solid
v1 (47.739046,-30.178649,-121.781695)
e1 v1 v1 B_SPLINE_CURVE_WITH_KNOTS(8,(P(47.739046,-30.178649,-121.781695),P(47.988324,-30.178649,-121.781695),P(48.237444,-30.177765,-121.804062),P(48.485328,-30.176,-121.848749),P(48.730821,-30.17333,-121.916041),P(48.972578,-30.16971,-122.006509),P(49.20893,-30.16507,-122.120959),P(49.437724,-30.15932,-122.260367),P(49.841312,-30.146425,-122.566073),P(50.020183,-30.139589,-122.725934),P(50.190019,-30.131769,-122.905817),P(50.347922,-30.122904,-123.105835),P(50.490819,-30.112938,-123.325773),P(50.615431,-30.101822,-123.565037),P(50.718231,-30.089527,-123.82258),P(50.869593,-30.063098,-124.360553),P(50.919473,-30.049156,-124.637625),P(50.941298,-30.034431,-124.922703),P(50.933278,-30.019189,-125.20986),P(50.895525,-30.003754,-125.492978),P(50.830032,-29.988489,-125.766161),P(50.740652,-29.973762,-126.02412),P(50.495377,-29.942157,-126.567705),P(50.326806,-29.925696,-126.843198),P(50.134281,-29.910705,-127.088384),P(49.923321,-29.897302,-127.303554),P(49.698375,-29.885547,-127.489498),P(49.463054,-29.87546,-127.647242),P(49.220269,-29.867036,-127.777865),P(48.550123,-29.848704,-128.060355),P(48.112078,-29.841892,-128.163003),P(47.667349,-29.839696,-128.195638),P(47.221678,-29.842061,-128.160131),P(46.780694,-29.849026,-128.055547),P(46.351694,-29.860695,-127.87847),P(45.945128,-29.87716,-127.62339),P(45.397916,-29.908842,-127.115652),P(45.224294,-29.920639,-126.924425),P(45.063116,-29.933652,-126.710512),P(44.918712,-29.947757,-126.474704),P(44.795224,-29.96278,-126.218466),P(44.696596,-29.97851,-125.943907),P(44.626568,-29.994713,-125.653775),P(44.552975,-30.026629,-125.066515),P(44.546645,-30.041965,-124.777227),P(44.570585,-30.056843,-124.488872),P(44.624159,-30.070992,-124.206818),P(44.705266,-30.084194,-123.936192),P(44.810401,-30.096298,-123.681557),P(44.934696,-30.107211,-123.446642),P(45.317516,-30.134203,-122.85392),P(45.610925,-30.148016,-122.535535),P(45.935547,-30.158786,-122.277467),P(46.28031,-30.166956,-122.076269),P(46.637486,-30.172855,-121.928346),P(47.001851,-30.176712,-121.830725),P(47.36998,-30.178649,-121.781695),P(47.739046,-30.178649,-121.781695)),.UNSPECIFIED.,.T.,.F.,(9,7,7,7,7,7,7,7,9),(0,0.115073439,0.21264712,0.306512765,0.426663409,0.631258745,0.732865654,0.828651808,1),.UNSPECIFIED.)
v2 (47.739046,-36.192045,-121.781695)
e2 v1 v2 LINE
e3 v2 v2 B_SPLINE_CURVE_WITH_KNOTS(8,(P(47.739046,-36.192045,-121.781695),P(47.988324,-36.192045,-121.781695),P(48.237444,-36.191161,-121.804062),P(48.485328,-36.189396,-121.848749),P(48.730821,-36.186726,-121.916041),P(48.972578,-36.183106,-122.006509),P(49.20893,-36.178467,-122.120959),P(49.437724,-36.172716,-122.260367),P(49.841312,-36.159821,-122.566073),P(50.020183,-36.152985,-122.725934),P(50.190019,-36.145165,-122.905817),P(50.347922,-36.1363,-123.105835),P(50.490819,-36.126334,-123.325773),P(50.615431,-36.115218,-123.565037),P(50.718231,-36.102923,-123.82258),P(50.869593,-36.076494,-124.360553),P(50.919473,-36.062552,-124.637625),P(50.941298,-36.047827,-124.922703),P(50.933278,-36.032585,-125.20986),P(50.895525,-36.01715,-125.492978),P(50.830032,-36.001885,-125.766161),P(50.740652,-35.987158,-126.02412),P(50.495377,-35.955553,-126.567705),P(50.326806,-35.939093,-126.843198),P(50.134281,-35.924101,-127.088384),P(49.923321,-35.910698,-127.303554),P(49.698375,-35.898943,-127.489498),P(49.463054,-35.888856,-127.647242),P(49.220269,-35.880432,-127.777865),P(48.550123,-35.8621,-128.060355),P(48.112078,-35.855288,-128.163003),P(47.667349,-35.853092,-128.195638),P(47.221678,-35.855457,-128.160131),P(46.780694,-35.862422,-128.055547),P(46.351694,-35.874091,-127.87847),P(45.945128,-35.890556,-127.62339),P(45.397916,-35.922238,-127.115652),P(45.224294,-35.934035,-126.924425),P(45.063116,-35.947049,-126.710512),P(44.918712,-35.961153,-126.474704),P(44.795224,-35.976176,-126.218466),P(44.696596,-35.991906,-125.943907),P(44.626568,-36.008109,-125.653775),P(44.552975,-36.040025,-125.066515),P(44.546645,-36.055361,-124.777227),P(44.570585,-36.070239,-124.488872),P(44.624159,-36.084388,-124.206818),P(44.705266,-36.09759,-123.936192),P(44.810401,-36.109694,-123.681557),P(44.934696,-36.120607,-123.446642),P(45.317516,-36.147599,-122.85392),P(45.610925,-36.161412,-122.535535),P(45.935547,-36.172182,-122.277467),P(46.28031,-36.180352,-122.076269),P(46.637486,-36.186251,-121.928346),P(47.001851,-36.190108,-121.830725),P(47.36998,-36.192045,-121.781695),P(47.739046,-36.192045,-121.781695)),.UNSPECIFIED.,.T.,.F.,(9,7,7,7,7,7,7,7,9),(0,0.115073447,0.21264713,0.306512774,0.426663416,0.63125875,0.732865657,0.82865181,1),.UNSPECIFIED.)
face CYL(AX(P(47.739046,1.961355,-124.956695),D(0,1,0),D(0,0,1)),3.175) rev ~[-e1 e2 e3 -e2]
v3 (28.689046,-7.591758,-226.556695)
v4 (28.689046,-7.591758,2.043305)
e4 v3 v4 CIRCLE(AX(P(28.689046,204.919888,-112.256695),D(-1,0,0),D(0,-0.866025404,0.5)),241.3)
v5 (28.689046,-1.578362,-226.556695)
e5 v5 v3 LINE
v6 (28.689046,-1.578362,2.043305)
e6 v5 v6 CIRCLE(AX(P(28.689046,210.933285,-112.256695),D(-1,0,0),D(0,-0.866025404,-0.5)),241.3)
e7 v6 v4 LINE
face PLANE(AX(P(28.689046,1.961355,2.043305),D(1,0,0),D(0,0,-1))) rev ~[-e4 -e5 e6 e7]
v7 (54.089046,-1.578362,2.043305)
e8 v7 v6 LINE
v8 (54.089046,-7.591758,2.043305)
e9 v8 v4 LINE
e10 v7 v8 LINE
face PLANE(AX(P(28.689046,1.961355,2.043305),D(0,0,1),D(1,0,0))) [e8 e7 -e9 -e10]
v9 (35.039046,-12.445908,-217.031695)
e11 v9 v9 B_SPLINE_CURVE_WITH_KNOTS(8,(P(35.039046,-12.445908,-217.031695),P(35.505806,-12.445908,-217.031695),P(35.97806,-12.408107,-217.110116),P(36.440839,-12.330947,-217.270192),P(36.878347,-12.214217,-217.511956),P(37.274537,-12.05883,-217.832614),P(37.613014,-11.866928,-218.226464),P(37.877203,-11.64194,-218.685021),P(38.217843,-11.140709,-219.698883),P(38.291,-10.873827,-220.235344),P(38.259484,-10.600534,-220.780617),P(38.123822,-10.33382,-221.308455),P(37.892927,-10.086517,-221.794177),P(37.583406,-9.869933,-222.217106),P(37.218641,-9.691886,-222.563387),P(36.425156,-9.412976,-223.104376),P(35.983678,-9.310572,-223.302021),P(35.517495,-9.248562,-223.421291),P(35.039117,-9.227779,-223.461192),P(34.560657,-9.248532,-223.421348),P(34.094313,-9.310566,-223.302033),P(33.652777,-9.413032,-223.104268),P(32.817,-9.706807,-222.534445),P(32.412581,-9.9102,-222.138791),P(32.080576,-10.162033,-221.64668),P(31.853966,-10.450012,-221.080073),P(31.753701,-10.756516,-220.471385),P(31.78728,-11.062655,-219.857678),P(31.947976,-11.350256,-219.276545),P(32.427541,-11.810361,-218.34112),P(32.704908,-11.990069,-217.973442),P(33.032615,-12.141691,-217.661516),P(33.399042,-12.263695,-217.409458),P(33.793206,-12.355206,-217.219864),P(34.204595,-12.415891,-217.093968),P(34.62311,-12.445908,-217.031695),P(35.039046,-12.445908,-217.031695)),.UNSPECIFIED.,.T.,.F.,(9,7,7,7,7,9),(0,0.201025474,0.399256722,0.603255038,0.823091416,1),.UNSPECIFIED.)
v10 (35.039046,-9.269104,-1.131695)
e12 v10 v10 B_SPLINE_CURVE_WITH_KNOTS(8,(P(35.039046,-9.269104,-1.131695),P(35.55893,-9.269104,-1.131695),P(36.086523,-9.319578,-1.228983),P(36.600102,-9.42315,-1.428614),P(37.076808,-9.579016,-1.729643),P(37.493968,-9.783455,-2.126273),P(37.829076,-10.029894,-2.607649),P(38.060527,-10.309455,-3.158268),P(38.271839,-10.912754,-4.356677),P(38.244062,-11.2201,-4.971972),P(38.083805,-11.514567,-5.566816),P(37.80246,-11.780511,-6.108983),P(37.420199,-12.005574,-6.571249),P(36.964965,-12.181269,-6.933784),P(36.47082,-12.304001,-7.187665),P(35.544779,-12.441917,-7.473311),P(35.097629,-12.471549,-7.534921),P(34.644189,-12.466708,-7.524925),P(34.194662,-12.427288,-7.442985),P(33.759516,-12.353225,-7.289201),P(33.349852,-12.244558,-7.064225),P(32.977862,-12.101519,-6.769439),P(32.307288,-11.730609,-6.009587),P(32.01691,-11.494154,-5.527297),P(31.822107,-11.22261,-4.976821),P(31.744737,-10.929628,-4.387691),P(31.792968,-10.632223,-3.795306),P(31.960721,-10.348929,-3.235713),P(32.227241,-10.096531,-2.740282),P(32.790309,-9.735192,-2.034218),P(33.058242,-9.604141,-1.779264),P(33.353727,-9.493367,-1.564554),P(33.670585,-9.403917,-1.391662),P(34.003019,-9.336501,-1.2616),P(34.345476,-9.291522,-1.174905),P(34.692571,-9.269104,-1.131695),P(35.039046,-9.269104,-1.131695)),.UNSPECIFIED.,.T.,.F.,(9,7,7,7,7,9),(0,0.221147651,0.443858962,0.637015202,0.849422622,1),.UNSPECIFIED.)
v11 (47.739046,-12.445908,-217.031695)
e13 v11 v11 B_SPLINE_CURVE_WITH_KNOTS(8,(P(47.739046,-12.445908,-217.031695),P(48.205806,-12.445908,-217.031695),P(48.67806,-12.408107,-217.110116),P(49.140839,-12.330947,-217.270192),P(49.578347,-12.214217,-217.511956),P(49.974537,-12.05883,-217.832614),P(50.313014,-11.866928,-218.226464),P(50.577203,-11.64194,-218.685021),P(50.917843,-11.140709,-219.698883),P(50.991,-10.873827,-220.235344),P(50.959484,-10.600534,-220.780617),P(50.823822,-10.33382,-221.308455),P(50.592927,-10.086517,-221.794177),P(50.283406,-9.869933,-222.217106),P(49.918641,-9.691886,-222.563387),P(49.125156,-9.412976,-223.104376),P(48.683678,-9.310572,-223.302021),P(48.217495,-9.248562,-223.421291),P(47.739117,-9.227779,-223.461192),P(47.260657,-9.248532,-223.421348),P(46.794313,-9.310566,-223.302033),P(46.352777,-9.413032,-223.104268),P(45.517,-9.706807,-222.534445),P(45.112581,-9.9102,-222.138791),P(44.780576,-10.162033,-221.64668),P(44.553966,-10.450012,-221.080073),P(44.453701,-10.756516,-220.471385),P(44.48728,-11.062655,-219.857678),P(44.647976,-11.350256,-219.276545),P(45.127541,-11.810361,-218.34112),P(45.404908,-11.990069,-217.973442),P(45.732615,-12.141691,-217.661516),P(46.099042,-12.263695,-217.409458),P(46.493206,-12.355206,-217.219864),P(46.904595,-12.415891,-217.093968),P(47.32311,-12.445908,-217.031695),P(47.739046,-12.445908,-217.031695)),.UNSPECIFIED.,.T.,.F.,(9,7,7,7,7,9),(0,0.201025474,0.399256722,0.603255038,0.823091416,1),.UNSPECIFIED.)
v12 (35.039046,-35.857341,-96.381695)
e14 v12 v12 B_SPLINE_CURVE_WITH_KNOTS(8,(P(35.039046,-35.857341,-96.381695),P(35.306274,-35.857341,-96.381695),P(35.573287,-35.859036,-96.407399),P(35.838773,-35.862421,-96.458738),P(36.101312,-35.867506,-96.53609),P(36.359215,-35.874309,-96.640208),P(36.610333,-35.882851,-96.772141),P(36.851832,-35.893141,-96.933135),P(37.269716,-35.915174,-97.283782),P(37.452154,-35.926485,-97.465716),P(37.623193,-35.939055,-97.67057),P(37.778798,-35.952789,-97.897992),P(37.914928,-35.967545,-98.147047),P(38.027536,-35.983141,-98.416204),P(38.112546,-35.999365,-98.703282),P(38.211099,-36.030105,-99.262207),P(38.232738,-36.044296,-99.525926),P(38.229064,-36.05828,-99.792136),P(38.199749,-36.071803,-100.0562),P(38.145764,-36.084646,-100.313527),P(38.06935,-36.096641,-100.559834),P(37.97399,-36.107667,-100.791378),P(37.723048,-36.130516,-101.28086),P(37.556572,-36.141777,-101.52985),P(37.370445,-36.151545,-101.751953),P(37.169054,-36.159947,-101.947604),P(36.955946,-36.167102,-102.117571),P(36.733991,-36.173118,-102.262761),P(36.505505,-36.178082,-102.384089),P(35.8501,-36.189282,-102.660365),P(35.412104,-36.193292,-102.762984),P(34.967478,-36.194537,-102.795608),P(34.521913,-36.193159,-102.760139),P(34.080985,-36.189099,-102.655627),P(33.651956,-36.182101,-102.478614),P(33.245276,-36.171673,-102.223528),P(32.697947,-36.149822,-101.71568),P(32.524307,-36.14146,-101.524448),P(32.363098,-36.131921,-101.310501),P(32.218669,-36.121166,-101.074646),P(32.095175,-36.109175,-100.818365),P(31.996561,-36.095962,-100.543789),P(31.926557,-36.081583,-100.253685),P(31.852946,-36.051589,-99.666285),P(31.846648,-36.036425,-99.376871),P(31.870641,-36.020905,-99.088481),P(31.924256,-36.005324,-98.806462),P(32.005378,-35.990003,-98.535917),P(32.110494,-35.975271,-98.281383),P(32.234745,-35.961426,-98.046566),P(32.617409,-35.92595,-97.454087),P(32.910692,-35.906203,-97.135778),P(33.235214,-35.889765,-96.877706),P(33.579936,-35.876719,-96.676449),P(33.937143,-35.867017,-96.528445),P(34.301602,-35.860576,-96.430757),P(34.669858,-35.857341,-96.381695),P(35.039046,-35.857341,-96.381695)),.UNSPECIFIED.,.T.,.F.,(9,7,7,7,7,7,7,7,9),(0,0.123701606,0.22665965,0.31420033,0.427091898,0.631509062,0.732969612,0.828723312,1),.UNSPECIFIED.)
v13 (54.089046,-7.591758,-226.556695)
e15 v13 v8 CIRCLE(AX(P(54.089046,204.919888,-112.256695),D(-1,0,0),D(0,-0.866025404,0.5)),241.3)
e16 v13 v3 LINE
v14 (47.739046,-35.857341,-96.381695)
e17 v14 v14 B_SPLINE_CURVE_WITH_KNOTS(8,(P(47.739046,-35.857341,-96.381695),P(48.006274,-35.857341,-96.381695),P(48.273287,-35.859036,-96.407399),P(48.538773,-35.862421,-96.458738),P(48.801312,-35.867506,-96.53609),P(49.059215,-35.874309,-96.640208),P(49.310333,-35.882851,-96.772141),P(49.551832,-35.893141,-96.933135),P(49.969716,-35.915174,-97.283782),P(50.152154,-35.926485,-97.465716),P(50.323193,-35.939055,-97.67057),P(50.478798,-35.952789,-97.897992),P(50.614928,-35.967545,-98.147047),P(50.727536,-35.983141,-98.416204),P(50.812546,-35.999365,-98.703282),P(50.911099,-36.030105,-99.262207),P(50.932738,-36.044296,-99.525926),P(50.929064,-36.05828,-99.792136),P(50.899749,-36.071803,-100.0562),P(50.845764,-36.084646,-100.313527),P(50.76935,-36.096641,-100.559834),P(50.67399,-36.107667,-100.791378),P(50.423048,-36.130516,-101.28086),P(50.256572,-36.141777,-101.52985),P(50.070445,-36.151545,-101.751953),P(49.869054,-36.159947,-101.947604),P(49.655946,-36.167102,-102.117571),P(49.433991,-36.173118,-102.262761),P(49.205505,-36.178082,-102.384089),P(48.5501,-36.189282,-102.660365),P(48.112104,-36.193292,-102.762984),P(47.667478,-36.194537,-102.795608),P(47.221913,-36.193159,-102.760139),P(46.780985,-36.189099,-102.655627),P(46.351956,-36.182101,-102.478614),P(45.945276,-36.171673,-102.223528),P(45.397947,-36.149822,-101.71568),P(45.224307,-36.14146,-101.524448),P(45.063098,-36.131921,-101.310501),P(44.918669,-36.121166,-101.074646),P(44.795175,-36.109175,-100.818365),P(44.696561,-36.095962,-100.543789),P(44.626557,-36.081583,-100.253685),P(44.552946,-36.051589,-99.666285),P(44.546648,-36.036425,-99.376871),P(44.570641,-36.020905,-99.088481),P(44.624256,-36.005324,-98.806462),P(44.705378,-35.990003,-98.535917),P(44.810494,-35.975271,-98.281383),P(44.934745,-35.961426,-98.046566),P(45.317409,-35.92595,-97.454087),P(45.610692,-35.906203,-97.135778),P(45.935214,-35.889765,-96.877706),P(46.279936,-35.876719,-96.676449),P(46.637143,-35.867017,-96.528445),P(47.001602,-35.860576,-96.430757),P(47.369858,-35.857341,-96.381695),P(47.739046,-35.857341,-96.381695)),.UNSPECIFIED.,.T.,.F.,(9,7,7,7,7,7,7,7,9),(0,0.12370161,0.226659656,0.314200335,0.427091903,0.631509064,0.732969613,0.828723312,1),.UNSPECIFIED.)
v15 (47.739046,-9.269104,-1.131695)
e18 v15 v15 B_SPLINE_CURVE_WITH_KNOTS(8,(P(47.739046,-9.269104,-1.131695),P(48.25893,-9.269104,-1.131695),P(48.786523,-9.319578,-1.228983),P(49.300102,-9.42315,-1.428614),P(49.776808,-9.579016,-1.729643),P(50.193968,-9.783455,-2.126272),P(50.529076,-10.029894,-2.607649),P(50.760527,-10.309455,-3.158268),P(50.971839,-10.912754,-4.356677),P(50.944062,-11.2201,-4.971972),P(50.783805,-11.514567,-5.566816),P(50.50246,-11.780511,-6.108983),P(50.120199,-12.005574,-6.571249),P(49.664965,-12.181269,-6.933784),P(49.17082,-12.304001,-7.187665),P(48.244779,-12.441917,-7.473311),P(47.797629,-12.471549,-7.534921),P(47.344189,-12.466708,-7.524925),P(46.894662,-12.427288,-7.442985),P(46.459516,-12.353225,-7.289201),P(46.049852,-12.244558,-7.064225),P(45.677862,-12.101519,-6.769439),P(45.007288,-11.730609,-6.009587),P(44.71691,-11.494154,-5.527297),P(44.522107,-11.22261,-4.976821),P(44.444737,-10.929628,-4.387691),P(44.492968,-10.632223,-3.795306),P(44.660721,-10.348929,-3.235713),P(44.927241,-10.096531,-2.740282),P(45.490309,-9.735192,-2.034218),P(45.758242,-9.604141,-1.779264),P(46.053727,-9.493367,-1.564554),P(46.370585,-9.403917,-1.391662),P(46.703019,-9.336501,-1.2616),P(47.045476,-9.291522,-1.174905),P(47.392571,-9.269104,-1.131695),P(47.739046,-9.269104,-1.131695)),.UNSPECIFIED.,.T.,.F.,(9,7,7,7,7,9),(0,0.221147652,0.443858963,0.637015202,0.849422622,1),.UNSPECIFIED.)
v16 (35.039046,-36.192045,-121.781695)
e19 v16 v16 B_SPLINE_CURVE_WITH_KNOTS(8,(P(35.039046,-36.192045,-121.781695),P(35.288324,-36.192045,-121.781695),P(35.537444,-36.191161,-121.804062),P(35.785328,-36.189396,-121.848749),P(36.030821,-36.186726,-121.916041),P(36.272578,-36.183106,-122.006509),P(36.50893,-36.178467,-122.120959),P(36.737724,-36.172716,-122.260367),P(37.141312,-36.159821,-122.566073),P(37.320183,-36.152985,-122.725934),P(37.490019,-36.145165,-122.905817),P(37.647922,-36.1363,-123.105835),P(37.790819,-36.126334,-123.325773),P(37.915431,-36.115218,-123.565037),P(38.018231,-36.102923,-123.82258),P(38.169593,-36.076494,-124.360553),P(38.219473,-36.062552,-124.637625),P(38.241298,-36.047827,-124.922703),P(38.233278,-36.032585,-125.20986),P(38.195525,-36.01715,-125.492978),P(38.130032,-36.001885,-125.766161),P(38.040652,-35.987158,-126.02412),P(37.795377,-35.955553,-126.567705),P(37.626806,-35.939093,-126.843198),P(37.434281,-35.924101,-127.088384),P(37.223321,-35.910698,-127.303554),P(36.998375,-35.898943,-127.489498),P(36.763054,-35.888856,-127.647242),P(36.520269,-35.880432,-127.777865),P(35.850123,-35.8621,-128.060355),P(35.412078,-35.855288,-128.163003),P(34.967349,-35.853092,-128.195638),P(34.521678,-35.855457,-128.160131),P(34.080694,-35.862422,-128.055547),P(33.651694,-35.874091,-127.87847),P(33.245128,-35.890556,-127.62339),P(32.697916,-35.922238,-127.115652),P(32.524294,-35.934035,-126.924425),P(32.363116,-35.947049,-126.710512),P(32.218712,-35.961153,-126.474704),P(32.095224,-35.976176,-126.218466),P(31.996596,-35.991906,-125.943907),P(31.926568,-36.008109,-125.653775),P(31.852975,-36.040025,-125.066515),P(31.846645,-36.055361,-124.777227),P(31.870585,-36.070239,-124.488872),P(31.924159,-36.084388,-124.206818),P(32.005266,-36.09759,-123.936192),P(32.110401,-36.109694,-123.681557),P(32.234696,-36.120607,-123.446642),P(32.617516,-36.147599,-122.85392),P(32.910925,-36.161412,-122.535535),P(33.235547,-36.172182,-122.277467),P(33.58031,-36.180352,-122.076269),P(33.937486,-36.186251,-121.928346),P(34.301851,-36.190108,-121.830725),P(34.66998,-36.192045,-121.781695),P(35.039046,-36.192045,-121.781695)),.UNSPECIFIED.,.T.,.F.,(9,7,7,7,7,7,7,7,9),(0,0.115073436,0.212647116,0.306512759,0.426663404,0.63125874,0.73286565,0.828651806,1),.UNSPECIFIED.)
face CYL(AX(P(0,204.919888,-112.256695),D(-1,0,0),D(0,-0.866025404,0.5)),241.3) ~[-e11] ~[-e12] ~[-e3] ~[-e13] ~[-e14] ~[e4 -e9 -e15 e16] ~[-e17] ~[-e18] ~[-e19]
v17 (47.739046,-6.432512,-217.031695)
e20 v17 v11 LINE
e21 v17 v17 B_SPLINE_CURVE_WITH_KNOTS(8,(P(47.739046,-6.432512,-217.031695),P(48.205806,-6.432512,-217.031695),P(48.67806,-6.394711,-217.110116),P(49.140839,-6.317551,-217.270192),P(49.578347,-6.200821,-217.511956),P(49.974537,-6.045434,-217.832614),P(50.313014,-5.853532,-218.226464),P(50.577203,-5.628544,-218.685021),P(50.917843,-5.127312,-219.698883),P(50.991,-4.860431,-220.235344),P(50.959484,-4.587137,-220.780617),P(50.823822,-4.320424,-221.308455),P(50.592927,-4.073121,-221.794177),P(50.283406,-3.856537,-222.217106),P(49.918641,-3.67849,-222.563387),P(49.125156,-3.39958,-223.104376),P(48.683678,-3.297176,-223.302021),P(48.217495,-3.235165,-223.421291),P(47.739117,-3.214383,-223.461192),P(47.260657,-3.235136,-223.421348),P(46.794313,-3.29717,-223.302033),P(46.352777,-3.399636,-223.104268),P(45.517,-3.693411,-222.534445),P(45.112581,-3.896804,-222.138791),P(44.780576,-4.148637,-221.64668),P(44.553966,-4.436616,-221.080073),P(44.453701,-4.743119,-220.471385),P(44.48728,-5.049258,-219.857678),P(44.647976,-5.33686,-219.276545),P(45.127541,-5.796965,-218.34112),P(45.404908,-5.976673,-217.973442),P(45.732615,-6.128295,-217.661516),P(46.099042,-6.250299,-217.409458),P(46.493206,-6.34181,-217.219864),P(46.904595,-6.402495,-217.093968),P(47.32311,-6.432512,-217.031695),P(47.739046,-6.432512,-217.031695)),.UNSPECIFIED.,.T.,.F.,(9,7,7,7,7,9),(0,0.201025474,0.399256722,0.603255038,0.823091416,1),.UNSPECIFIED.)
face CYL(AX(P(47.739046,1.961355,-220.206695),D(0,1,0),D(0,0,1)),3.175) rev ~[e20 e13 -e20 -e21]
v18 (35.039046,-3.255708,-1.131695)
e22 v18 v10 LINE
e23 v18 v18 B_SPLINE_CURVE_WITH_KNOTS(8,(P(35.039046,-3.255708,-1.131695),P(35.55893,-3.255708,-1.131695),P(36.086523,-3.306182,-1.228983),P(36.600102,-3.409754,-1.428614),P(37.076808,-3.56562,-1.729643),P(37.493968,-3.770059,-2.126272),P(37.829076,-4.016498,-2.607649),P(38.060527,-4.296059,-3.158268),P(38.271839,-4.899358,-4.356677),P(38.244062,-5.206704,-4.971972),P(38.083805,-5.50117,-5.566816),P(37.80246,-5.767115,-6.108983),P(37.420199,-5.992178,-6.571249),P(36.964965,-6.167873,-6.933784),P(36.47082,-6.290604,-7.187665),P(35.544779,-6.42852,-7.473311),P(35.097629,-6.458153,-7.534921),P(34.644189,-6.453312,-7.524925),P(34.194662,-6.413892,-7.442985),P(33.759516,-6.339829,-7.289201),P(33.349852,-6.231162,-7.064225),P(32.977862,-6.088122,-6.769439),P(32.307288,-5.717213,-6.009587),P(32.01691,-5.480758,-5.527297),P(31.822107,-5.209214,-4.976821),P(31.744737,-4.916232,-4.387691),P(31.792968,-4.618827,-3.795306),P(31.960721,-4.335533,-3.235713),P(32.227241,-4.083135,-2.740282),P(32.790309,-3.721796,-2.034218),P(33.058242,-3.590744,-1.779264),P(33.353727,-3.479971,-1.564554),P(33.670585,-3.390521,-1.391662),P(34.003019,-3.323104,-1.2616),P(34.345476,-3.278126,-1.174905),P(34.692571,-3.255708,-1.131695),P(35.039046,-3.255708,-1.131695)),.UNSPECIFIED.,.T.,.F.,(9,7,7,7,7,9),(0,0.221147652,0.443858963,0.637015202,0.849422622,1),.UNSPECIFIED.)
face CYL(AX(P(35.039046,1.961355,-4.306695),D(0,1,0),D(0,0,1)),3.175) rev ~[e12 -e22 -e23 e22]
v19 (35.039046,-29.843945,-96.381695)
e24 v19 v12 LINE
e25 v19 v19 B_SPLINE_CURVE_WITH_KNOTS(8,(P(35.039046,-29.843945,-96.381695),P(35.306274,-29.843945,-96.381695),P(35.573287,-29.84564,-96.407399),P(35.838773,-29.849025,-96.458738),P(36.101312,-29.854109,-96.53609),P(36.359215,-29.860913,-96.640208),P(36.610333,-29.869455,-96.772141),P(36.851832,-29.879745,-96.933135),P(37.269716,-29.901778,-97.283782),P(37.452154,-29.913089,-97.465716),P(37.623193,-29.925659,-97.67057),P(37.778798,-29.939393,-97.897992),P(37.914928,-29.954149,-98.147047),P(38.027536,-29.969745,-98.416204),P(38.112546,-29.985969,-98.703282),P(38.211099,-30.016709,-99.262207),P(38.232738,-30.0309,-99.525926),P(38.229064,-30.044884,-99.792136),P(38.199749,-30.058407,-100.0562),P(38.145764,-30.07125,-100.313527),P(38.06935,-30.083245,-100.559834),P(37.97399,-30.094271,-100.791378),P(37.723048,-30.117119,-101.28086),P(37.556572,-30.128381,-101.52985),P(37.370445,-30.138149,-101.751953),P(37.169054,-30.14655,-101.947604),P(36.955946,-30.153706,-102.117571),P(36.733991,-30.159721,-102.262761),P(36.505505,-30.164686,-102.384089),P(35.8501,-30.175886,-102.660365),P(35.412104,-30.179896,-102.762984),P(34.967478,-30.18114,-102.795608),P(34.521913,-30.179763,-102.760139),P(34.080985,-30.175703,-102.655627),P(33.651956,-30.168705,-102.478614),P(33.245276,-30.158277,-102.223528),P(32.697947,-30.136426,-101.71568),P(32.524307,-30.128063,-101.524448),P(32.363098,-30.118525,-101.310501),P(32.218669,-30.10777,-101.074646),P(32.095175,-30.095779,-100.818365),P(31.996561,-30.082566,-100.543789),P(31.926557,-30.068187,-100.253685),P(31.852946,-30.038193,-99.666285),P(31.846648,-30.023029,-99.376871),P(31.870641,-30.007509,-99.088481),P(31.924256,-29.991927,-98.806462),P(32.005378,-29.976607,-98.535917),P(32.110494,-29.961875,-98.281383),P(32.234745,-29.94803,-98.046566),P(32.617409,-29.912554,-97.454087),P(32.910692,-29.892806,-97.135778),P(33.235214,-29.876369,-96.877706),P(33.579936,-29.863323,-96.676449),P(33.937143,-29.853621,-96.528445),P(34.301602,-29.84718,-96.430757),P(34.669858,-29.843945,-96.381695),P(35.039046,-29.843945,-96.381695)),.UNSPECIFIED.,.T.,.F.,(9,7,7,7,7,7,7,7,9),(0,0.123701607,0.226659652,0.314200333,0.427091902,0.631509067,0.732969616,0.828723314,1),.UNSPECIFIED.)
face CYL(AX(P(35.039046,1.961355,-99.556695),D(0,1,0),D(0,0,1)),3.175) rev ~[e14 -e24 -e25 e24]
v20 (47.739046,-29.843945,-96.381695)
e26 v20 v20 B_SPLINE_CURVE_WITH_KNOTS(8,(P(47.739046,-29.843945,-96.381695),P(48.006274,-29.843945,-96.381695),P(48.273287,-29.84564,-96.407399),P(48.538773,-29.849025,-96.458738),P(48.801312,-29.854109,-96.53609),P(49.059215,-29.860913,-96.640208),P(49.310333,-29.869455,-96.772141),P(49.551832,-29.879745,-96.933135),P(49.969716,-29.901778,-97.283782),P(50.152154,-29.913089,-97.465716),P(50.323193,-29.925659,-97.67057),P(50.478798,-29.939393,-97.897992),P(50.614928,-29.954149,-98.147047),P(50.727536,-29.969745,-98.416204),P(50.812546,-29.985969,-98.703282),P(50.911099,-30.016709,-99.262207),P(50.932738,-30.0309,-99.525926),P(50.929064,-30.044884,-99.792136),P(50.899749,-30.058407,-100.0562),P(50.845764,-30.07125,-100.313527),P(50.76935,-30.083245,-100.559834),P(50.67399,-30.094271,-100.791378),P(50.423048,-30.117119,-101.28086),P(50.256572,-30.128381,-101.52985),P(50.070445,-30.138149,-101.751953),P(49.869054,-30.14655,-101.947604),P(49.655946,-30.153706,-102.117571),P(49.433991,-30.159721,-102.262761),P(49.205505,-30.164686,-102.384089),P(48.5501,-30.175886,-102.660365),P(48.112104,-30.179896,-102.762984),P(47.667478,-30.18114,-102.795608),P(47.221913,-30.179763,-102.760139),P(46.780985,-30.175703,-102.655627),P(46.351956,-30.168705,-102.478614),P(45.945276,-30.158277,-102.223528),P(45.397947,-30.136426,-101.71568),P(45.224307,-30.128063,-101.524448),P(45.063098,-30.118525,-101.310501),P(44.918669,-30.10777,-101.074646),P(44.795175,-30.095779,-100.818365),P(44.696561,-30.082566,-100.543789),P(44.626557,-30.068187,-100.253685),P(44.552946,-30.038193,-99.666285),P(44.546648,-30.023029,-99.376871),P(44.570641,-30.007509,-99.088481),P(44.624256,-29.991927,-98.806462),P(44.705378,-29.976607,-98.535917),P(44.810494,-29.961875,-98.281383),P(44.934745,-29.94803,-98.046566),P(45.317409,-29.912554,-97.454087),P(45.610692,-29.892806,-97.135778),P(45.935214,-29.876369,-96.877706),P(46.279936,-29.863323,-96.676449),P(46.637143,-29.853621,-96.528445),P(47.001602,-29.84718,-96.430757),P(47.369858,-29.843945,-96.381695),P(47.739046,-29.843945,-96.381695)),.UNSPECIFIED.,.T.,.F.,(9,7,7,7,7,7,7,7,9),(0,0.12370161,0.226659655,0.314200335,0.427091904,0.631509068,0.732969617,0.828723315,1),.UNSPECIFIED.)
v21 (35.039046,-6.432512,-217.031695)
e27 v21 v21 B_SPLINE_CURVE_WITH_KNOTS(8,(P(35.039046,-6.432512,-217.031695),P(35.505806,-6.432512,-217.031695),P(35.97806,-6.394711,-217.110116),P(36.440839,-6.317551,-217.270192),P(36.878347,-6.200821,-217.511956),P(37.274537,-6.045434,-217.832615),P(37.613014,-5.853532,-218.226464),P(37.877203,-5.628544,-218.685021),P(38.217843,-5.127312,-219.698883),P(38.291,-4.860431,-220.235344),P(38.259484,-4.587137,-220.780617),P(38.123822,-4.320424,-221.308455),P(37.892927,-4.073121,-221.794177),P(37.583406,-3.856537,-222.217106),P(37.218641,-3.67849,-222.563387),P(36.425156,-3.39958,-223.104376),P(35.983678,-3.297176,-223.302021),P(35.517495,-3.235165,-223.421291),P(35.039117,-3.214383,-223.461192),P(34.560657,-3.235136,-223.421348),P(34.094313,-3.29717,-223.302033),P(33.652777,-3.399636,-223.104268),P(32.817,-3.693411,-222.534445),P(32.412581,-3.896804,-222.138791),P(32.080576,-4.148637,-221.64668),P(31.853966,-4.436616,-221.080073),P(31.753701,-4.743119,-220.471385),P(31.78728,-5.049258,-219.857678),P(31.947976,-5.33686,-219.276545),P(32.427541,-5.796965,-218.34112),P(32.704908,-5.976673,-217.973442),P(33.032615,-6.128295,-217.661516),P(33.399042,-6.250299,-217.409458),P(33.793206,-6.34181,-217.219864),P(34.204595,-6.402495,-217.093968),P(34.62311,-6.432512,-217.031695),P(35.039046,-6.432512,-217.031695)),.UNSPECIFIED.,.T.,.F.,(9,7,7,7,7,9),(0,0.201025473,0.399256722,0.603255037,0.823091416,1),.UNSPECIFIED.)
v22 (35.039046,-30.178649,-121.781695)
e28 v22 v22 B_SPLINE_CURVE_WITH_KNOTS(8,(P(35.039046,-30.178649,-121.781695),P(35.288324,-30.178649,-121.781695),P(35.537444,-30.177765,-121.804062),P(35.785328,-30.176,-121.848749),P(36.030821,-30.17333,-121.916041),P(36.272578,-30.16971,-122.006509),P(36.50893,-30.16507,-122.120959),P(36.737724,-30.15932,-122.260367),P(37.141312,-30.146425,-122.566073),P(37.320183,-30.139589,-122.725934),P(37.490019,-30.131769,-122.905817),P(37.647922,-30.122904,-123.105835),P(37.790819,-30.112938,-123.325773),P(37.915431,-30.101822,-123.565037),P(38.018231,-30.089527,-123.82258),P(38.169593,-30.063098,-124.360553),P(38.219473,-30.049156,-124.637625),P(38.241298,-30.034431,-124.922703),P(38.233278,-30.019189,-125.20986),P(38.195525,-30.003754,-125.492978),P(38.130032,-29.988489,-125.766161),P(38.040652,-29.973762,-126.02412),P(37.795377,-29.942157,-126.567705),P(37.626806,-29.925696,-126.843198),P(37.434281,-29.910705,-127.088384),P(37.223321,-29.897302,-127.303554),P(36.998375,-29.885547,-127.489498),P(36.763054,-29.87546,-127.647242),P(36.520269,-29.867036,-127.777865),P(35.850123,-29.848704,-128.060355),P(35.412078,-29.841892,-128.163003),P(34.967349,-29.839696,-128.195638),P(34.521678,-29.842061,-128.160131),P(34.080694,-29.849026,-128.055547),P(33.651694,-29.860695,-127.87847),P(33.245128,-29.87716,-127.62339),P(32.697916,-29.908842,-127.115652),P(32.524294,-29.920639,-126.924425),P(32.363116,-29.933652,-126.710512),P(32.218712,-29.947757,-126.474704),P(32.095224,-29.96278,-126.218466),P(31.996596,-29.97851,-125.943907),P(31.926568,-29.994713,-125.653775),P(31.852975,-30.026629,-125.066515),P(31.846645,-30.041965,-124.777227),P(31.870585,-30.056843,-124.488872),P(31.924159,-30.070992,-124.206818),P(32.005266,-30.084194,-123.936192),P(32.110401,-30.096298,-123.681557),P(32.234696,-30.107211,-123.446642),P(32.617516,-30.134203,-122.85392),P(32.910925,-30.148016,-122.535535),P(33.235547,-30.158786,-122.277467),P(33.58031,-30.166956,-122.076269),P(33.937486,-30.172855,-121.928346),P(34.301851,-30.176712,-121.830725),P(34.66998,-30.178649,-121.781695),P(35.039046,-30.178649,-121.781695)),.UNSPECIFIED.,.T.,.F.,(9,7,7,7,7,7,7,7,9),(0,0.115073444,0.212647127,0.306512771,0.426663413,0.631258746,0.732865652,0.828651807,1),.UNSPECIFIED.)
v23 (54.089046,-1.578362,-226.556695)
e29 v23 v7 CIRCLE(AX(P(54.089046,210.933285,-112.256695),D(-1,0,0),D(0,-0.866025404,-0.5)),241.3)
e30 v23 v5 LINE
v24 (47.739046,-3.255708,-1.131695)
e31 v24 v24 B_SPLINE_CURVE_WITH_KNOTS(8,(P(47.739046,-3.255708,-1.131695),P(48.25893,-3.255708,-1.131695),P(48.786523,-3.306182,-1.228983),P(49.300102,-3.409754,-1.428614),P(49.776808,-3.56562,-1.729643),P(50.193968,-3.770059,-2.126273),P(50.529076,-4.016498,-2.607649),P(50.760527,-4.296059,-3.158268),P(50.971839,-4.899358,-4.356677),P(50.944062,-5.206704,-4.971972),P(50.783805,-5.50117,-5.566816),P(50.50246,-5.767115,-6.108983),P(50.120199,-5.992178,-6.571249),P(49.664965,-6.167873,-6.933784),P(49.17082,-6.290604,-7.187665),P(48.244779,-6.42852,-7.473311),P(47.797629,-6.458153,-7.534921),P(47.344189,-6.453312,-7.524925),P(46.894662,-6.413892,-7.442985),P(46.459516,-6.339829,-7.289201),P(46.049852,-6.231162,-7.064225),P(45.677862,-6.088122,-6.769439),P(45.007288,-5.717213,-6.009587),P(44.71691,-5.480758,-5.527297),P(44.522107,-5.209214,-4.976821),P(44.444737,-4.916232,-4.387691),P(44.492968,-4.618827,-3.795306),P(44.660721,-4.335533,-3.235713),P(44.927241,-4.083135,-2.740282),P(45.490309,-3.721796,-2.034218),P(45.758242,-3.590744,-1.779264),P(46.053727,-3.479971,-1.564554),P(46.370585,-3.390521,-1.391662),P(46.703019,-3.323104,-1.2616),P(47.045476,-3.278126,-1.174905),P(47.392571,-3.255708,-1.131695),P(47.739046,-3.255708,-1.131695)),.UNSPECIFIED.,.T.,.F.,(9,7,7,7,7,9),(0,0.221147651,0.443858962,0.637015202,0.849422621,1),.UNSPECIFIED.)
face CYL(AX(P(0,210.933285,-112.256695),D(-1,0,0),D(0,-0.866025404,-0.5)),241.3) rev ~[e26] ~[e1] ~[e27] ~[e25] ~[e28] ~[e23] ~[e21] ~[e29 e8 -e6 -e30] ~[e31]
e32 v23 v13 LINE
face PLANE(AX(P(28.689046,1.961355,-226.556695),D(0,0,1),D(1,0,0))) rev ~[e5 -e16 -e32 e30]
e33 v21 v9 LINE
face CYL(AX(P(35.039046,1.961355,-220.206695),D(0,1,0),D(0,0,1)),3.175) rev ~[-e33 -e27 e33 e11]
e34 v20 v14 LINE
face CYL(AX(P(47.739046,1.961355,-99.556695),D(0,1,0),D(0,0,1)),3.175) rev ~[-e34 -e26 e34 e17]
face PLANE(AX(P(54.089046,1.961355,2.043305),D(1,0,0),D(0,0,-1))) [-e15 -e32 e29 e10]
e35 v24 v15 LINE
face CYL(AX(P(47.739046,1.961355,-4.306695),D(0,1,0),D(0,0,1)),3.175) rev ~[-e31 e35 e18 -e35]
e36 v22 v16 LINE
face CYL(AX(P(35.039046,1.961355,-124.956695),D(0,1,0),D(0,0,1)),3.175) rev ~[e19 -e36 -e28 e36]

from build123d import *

# Parameters (mm, degrees)
BOSS_EXTRUDE4_DEPTH = 304.8
SKETCH4_OUTSIDE_W   = 384.928
SKETCH4_OUTSIDE_H   = 321.428
SKETCH4_OUTSIDE_W_2 = 25.4
SKETCH4_OUTSIDE_H_2 = 228.6
CUT_EXTRUDE2_DEPTH  = 150
SKETCH5_R           = 3.175
CUT_EXTRUDE3_DEPTH  = 150
SKETCH6_R           = 3.175
CUT_EXTRUDE4_DEPTH  = 150


with BuildPart() as part:
    # Sketch3 → Boss-Extrude4 (new body)
    with BuildSketch(Plane(origin=(0, 0, 0), x_dir=(0, 0, -1), z_dir=(1, 0, 0))):
        with BuildLine():
            ThreePointArc((232.90669496, 1.961354585), (112.25669496, -30.366715482), (-8.39330504, 1.961354585))
            Line((-8.39330504, 1.961354585), (-8.39330504, -4.052041589))
            ThreePointArc((-8.39330504, -4.052041589), (112.25669496, -36.380111656), (232.90669496, -4.052041589))
            Line((232.90669496, -4.052041589), (232.90669496, 1.961354585))
        make_face()
    extrude(amount=BOSS_EXTRUDE4_DEPTH)

    # Sketch4 outside → Cut-Extrude2 (cut)
    with BuildSketch(Plane(origin=(0, 1.961354585, 0), x_dir=(1, 0, 0), z_dir=(0, 1, 0))):
        with Locations((152.4, 112.257)):
            Rectangle(SKETCH4_OUTSIDE_W, SKETCH4_OUTSIDE_H)
        with Locations((41.389045768, 112.25669496)):
            Rectangle(SKETCH4_OUTSIDE_W_2, SKETCH4_OUTSIDE_H_2, mode=Mode.SUBTRACT)
    extrude(amount=-CUT_EXTRUDE2_DEPTH, mode=Mode.SUBTRACT)

    # Sketch5 → Cut-Extrude3 (cut)
    with BuildSketch(Plane(origin=(0, 1.961354585, 0), x_dir=(1, 0, 0), z_dir=(0, 1, 0))):
        with Locations(Location((47.739045768, 220.20669496, 0), (0, 0, 270))):
            Circle(SKETCH5_R)
        with Locations(Location((35.039045768, 220.20669496, 0), (0, 0, 270))):
            Circle(SKETCH5_R)
        with Locations(Location((35.039045768, 4.30669496, 0), (0, 0, 270))):
            Circle(SKETCH5_R)
        with Locations(Location((47.739045768, 4.30669496, 0), (0, 0, 270))):
            Circle(SKETCH5_R)
    extrude(amount=-CUT_EXTRUDE3_DEPTH, mode=Mode.SUBTRACT)

    # Sketch6 → Cut-Extrude4 (cut)
    with BuildSketch(Plane(origin=(0, 1.961354585, 0), x_dir=(1, 0, 0), z_dir=(0, 1, 0))):
        with Locations(Location((35.039045768, 124.95669496, 0), (0, 0, 270))):
            Circle(SKETCH6_R)
        with Locations(Location((47.739045768, 124.95669496, 0), (0, 0, 270))):
            Circle(SKETCH6_R)
        with Locations(Location((35.039045768, 99.55669496, 0), (0, 0, 270))):
            Circle(SKETCH6_R)
        with Locations(Location((47.739045768, 99.55669496, 0), (0, 0, 270))):
            Circle(SKETCH6_R)
    extrude(amount=-CUT_EXTRUDE4_DEPTH, mode=Mode.SUBTRACT)


solid = part.part
